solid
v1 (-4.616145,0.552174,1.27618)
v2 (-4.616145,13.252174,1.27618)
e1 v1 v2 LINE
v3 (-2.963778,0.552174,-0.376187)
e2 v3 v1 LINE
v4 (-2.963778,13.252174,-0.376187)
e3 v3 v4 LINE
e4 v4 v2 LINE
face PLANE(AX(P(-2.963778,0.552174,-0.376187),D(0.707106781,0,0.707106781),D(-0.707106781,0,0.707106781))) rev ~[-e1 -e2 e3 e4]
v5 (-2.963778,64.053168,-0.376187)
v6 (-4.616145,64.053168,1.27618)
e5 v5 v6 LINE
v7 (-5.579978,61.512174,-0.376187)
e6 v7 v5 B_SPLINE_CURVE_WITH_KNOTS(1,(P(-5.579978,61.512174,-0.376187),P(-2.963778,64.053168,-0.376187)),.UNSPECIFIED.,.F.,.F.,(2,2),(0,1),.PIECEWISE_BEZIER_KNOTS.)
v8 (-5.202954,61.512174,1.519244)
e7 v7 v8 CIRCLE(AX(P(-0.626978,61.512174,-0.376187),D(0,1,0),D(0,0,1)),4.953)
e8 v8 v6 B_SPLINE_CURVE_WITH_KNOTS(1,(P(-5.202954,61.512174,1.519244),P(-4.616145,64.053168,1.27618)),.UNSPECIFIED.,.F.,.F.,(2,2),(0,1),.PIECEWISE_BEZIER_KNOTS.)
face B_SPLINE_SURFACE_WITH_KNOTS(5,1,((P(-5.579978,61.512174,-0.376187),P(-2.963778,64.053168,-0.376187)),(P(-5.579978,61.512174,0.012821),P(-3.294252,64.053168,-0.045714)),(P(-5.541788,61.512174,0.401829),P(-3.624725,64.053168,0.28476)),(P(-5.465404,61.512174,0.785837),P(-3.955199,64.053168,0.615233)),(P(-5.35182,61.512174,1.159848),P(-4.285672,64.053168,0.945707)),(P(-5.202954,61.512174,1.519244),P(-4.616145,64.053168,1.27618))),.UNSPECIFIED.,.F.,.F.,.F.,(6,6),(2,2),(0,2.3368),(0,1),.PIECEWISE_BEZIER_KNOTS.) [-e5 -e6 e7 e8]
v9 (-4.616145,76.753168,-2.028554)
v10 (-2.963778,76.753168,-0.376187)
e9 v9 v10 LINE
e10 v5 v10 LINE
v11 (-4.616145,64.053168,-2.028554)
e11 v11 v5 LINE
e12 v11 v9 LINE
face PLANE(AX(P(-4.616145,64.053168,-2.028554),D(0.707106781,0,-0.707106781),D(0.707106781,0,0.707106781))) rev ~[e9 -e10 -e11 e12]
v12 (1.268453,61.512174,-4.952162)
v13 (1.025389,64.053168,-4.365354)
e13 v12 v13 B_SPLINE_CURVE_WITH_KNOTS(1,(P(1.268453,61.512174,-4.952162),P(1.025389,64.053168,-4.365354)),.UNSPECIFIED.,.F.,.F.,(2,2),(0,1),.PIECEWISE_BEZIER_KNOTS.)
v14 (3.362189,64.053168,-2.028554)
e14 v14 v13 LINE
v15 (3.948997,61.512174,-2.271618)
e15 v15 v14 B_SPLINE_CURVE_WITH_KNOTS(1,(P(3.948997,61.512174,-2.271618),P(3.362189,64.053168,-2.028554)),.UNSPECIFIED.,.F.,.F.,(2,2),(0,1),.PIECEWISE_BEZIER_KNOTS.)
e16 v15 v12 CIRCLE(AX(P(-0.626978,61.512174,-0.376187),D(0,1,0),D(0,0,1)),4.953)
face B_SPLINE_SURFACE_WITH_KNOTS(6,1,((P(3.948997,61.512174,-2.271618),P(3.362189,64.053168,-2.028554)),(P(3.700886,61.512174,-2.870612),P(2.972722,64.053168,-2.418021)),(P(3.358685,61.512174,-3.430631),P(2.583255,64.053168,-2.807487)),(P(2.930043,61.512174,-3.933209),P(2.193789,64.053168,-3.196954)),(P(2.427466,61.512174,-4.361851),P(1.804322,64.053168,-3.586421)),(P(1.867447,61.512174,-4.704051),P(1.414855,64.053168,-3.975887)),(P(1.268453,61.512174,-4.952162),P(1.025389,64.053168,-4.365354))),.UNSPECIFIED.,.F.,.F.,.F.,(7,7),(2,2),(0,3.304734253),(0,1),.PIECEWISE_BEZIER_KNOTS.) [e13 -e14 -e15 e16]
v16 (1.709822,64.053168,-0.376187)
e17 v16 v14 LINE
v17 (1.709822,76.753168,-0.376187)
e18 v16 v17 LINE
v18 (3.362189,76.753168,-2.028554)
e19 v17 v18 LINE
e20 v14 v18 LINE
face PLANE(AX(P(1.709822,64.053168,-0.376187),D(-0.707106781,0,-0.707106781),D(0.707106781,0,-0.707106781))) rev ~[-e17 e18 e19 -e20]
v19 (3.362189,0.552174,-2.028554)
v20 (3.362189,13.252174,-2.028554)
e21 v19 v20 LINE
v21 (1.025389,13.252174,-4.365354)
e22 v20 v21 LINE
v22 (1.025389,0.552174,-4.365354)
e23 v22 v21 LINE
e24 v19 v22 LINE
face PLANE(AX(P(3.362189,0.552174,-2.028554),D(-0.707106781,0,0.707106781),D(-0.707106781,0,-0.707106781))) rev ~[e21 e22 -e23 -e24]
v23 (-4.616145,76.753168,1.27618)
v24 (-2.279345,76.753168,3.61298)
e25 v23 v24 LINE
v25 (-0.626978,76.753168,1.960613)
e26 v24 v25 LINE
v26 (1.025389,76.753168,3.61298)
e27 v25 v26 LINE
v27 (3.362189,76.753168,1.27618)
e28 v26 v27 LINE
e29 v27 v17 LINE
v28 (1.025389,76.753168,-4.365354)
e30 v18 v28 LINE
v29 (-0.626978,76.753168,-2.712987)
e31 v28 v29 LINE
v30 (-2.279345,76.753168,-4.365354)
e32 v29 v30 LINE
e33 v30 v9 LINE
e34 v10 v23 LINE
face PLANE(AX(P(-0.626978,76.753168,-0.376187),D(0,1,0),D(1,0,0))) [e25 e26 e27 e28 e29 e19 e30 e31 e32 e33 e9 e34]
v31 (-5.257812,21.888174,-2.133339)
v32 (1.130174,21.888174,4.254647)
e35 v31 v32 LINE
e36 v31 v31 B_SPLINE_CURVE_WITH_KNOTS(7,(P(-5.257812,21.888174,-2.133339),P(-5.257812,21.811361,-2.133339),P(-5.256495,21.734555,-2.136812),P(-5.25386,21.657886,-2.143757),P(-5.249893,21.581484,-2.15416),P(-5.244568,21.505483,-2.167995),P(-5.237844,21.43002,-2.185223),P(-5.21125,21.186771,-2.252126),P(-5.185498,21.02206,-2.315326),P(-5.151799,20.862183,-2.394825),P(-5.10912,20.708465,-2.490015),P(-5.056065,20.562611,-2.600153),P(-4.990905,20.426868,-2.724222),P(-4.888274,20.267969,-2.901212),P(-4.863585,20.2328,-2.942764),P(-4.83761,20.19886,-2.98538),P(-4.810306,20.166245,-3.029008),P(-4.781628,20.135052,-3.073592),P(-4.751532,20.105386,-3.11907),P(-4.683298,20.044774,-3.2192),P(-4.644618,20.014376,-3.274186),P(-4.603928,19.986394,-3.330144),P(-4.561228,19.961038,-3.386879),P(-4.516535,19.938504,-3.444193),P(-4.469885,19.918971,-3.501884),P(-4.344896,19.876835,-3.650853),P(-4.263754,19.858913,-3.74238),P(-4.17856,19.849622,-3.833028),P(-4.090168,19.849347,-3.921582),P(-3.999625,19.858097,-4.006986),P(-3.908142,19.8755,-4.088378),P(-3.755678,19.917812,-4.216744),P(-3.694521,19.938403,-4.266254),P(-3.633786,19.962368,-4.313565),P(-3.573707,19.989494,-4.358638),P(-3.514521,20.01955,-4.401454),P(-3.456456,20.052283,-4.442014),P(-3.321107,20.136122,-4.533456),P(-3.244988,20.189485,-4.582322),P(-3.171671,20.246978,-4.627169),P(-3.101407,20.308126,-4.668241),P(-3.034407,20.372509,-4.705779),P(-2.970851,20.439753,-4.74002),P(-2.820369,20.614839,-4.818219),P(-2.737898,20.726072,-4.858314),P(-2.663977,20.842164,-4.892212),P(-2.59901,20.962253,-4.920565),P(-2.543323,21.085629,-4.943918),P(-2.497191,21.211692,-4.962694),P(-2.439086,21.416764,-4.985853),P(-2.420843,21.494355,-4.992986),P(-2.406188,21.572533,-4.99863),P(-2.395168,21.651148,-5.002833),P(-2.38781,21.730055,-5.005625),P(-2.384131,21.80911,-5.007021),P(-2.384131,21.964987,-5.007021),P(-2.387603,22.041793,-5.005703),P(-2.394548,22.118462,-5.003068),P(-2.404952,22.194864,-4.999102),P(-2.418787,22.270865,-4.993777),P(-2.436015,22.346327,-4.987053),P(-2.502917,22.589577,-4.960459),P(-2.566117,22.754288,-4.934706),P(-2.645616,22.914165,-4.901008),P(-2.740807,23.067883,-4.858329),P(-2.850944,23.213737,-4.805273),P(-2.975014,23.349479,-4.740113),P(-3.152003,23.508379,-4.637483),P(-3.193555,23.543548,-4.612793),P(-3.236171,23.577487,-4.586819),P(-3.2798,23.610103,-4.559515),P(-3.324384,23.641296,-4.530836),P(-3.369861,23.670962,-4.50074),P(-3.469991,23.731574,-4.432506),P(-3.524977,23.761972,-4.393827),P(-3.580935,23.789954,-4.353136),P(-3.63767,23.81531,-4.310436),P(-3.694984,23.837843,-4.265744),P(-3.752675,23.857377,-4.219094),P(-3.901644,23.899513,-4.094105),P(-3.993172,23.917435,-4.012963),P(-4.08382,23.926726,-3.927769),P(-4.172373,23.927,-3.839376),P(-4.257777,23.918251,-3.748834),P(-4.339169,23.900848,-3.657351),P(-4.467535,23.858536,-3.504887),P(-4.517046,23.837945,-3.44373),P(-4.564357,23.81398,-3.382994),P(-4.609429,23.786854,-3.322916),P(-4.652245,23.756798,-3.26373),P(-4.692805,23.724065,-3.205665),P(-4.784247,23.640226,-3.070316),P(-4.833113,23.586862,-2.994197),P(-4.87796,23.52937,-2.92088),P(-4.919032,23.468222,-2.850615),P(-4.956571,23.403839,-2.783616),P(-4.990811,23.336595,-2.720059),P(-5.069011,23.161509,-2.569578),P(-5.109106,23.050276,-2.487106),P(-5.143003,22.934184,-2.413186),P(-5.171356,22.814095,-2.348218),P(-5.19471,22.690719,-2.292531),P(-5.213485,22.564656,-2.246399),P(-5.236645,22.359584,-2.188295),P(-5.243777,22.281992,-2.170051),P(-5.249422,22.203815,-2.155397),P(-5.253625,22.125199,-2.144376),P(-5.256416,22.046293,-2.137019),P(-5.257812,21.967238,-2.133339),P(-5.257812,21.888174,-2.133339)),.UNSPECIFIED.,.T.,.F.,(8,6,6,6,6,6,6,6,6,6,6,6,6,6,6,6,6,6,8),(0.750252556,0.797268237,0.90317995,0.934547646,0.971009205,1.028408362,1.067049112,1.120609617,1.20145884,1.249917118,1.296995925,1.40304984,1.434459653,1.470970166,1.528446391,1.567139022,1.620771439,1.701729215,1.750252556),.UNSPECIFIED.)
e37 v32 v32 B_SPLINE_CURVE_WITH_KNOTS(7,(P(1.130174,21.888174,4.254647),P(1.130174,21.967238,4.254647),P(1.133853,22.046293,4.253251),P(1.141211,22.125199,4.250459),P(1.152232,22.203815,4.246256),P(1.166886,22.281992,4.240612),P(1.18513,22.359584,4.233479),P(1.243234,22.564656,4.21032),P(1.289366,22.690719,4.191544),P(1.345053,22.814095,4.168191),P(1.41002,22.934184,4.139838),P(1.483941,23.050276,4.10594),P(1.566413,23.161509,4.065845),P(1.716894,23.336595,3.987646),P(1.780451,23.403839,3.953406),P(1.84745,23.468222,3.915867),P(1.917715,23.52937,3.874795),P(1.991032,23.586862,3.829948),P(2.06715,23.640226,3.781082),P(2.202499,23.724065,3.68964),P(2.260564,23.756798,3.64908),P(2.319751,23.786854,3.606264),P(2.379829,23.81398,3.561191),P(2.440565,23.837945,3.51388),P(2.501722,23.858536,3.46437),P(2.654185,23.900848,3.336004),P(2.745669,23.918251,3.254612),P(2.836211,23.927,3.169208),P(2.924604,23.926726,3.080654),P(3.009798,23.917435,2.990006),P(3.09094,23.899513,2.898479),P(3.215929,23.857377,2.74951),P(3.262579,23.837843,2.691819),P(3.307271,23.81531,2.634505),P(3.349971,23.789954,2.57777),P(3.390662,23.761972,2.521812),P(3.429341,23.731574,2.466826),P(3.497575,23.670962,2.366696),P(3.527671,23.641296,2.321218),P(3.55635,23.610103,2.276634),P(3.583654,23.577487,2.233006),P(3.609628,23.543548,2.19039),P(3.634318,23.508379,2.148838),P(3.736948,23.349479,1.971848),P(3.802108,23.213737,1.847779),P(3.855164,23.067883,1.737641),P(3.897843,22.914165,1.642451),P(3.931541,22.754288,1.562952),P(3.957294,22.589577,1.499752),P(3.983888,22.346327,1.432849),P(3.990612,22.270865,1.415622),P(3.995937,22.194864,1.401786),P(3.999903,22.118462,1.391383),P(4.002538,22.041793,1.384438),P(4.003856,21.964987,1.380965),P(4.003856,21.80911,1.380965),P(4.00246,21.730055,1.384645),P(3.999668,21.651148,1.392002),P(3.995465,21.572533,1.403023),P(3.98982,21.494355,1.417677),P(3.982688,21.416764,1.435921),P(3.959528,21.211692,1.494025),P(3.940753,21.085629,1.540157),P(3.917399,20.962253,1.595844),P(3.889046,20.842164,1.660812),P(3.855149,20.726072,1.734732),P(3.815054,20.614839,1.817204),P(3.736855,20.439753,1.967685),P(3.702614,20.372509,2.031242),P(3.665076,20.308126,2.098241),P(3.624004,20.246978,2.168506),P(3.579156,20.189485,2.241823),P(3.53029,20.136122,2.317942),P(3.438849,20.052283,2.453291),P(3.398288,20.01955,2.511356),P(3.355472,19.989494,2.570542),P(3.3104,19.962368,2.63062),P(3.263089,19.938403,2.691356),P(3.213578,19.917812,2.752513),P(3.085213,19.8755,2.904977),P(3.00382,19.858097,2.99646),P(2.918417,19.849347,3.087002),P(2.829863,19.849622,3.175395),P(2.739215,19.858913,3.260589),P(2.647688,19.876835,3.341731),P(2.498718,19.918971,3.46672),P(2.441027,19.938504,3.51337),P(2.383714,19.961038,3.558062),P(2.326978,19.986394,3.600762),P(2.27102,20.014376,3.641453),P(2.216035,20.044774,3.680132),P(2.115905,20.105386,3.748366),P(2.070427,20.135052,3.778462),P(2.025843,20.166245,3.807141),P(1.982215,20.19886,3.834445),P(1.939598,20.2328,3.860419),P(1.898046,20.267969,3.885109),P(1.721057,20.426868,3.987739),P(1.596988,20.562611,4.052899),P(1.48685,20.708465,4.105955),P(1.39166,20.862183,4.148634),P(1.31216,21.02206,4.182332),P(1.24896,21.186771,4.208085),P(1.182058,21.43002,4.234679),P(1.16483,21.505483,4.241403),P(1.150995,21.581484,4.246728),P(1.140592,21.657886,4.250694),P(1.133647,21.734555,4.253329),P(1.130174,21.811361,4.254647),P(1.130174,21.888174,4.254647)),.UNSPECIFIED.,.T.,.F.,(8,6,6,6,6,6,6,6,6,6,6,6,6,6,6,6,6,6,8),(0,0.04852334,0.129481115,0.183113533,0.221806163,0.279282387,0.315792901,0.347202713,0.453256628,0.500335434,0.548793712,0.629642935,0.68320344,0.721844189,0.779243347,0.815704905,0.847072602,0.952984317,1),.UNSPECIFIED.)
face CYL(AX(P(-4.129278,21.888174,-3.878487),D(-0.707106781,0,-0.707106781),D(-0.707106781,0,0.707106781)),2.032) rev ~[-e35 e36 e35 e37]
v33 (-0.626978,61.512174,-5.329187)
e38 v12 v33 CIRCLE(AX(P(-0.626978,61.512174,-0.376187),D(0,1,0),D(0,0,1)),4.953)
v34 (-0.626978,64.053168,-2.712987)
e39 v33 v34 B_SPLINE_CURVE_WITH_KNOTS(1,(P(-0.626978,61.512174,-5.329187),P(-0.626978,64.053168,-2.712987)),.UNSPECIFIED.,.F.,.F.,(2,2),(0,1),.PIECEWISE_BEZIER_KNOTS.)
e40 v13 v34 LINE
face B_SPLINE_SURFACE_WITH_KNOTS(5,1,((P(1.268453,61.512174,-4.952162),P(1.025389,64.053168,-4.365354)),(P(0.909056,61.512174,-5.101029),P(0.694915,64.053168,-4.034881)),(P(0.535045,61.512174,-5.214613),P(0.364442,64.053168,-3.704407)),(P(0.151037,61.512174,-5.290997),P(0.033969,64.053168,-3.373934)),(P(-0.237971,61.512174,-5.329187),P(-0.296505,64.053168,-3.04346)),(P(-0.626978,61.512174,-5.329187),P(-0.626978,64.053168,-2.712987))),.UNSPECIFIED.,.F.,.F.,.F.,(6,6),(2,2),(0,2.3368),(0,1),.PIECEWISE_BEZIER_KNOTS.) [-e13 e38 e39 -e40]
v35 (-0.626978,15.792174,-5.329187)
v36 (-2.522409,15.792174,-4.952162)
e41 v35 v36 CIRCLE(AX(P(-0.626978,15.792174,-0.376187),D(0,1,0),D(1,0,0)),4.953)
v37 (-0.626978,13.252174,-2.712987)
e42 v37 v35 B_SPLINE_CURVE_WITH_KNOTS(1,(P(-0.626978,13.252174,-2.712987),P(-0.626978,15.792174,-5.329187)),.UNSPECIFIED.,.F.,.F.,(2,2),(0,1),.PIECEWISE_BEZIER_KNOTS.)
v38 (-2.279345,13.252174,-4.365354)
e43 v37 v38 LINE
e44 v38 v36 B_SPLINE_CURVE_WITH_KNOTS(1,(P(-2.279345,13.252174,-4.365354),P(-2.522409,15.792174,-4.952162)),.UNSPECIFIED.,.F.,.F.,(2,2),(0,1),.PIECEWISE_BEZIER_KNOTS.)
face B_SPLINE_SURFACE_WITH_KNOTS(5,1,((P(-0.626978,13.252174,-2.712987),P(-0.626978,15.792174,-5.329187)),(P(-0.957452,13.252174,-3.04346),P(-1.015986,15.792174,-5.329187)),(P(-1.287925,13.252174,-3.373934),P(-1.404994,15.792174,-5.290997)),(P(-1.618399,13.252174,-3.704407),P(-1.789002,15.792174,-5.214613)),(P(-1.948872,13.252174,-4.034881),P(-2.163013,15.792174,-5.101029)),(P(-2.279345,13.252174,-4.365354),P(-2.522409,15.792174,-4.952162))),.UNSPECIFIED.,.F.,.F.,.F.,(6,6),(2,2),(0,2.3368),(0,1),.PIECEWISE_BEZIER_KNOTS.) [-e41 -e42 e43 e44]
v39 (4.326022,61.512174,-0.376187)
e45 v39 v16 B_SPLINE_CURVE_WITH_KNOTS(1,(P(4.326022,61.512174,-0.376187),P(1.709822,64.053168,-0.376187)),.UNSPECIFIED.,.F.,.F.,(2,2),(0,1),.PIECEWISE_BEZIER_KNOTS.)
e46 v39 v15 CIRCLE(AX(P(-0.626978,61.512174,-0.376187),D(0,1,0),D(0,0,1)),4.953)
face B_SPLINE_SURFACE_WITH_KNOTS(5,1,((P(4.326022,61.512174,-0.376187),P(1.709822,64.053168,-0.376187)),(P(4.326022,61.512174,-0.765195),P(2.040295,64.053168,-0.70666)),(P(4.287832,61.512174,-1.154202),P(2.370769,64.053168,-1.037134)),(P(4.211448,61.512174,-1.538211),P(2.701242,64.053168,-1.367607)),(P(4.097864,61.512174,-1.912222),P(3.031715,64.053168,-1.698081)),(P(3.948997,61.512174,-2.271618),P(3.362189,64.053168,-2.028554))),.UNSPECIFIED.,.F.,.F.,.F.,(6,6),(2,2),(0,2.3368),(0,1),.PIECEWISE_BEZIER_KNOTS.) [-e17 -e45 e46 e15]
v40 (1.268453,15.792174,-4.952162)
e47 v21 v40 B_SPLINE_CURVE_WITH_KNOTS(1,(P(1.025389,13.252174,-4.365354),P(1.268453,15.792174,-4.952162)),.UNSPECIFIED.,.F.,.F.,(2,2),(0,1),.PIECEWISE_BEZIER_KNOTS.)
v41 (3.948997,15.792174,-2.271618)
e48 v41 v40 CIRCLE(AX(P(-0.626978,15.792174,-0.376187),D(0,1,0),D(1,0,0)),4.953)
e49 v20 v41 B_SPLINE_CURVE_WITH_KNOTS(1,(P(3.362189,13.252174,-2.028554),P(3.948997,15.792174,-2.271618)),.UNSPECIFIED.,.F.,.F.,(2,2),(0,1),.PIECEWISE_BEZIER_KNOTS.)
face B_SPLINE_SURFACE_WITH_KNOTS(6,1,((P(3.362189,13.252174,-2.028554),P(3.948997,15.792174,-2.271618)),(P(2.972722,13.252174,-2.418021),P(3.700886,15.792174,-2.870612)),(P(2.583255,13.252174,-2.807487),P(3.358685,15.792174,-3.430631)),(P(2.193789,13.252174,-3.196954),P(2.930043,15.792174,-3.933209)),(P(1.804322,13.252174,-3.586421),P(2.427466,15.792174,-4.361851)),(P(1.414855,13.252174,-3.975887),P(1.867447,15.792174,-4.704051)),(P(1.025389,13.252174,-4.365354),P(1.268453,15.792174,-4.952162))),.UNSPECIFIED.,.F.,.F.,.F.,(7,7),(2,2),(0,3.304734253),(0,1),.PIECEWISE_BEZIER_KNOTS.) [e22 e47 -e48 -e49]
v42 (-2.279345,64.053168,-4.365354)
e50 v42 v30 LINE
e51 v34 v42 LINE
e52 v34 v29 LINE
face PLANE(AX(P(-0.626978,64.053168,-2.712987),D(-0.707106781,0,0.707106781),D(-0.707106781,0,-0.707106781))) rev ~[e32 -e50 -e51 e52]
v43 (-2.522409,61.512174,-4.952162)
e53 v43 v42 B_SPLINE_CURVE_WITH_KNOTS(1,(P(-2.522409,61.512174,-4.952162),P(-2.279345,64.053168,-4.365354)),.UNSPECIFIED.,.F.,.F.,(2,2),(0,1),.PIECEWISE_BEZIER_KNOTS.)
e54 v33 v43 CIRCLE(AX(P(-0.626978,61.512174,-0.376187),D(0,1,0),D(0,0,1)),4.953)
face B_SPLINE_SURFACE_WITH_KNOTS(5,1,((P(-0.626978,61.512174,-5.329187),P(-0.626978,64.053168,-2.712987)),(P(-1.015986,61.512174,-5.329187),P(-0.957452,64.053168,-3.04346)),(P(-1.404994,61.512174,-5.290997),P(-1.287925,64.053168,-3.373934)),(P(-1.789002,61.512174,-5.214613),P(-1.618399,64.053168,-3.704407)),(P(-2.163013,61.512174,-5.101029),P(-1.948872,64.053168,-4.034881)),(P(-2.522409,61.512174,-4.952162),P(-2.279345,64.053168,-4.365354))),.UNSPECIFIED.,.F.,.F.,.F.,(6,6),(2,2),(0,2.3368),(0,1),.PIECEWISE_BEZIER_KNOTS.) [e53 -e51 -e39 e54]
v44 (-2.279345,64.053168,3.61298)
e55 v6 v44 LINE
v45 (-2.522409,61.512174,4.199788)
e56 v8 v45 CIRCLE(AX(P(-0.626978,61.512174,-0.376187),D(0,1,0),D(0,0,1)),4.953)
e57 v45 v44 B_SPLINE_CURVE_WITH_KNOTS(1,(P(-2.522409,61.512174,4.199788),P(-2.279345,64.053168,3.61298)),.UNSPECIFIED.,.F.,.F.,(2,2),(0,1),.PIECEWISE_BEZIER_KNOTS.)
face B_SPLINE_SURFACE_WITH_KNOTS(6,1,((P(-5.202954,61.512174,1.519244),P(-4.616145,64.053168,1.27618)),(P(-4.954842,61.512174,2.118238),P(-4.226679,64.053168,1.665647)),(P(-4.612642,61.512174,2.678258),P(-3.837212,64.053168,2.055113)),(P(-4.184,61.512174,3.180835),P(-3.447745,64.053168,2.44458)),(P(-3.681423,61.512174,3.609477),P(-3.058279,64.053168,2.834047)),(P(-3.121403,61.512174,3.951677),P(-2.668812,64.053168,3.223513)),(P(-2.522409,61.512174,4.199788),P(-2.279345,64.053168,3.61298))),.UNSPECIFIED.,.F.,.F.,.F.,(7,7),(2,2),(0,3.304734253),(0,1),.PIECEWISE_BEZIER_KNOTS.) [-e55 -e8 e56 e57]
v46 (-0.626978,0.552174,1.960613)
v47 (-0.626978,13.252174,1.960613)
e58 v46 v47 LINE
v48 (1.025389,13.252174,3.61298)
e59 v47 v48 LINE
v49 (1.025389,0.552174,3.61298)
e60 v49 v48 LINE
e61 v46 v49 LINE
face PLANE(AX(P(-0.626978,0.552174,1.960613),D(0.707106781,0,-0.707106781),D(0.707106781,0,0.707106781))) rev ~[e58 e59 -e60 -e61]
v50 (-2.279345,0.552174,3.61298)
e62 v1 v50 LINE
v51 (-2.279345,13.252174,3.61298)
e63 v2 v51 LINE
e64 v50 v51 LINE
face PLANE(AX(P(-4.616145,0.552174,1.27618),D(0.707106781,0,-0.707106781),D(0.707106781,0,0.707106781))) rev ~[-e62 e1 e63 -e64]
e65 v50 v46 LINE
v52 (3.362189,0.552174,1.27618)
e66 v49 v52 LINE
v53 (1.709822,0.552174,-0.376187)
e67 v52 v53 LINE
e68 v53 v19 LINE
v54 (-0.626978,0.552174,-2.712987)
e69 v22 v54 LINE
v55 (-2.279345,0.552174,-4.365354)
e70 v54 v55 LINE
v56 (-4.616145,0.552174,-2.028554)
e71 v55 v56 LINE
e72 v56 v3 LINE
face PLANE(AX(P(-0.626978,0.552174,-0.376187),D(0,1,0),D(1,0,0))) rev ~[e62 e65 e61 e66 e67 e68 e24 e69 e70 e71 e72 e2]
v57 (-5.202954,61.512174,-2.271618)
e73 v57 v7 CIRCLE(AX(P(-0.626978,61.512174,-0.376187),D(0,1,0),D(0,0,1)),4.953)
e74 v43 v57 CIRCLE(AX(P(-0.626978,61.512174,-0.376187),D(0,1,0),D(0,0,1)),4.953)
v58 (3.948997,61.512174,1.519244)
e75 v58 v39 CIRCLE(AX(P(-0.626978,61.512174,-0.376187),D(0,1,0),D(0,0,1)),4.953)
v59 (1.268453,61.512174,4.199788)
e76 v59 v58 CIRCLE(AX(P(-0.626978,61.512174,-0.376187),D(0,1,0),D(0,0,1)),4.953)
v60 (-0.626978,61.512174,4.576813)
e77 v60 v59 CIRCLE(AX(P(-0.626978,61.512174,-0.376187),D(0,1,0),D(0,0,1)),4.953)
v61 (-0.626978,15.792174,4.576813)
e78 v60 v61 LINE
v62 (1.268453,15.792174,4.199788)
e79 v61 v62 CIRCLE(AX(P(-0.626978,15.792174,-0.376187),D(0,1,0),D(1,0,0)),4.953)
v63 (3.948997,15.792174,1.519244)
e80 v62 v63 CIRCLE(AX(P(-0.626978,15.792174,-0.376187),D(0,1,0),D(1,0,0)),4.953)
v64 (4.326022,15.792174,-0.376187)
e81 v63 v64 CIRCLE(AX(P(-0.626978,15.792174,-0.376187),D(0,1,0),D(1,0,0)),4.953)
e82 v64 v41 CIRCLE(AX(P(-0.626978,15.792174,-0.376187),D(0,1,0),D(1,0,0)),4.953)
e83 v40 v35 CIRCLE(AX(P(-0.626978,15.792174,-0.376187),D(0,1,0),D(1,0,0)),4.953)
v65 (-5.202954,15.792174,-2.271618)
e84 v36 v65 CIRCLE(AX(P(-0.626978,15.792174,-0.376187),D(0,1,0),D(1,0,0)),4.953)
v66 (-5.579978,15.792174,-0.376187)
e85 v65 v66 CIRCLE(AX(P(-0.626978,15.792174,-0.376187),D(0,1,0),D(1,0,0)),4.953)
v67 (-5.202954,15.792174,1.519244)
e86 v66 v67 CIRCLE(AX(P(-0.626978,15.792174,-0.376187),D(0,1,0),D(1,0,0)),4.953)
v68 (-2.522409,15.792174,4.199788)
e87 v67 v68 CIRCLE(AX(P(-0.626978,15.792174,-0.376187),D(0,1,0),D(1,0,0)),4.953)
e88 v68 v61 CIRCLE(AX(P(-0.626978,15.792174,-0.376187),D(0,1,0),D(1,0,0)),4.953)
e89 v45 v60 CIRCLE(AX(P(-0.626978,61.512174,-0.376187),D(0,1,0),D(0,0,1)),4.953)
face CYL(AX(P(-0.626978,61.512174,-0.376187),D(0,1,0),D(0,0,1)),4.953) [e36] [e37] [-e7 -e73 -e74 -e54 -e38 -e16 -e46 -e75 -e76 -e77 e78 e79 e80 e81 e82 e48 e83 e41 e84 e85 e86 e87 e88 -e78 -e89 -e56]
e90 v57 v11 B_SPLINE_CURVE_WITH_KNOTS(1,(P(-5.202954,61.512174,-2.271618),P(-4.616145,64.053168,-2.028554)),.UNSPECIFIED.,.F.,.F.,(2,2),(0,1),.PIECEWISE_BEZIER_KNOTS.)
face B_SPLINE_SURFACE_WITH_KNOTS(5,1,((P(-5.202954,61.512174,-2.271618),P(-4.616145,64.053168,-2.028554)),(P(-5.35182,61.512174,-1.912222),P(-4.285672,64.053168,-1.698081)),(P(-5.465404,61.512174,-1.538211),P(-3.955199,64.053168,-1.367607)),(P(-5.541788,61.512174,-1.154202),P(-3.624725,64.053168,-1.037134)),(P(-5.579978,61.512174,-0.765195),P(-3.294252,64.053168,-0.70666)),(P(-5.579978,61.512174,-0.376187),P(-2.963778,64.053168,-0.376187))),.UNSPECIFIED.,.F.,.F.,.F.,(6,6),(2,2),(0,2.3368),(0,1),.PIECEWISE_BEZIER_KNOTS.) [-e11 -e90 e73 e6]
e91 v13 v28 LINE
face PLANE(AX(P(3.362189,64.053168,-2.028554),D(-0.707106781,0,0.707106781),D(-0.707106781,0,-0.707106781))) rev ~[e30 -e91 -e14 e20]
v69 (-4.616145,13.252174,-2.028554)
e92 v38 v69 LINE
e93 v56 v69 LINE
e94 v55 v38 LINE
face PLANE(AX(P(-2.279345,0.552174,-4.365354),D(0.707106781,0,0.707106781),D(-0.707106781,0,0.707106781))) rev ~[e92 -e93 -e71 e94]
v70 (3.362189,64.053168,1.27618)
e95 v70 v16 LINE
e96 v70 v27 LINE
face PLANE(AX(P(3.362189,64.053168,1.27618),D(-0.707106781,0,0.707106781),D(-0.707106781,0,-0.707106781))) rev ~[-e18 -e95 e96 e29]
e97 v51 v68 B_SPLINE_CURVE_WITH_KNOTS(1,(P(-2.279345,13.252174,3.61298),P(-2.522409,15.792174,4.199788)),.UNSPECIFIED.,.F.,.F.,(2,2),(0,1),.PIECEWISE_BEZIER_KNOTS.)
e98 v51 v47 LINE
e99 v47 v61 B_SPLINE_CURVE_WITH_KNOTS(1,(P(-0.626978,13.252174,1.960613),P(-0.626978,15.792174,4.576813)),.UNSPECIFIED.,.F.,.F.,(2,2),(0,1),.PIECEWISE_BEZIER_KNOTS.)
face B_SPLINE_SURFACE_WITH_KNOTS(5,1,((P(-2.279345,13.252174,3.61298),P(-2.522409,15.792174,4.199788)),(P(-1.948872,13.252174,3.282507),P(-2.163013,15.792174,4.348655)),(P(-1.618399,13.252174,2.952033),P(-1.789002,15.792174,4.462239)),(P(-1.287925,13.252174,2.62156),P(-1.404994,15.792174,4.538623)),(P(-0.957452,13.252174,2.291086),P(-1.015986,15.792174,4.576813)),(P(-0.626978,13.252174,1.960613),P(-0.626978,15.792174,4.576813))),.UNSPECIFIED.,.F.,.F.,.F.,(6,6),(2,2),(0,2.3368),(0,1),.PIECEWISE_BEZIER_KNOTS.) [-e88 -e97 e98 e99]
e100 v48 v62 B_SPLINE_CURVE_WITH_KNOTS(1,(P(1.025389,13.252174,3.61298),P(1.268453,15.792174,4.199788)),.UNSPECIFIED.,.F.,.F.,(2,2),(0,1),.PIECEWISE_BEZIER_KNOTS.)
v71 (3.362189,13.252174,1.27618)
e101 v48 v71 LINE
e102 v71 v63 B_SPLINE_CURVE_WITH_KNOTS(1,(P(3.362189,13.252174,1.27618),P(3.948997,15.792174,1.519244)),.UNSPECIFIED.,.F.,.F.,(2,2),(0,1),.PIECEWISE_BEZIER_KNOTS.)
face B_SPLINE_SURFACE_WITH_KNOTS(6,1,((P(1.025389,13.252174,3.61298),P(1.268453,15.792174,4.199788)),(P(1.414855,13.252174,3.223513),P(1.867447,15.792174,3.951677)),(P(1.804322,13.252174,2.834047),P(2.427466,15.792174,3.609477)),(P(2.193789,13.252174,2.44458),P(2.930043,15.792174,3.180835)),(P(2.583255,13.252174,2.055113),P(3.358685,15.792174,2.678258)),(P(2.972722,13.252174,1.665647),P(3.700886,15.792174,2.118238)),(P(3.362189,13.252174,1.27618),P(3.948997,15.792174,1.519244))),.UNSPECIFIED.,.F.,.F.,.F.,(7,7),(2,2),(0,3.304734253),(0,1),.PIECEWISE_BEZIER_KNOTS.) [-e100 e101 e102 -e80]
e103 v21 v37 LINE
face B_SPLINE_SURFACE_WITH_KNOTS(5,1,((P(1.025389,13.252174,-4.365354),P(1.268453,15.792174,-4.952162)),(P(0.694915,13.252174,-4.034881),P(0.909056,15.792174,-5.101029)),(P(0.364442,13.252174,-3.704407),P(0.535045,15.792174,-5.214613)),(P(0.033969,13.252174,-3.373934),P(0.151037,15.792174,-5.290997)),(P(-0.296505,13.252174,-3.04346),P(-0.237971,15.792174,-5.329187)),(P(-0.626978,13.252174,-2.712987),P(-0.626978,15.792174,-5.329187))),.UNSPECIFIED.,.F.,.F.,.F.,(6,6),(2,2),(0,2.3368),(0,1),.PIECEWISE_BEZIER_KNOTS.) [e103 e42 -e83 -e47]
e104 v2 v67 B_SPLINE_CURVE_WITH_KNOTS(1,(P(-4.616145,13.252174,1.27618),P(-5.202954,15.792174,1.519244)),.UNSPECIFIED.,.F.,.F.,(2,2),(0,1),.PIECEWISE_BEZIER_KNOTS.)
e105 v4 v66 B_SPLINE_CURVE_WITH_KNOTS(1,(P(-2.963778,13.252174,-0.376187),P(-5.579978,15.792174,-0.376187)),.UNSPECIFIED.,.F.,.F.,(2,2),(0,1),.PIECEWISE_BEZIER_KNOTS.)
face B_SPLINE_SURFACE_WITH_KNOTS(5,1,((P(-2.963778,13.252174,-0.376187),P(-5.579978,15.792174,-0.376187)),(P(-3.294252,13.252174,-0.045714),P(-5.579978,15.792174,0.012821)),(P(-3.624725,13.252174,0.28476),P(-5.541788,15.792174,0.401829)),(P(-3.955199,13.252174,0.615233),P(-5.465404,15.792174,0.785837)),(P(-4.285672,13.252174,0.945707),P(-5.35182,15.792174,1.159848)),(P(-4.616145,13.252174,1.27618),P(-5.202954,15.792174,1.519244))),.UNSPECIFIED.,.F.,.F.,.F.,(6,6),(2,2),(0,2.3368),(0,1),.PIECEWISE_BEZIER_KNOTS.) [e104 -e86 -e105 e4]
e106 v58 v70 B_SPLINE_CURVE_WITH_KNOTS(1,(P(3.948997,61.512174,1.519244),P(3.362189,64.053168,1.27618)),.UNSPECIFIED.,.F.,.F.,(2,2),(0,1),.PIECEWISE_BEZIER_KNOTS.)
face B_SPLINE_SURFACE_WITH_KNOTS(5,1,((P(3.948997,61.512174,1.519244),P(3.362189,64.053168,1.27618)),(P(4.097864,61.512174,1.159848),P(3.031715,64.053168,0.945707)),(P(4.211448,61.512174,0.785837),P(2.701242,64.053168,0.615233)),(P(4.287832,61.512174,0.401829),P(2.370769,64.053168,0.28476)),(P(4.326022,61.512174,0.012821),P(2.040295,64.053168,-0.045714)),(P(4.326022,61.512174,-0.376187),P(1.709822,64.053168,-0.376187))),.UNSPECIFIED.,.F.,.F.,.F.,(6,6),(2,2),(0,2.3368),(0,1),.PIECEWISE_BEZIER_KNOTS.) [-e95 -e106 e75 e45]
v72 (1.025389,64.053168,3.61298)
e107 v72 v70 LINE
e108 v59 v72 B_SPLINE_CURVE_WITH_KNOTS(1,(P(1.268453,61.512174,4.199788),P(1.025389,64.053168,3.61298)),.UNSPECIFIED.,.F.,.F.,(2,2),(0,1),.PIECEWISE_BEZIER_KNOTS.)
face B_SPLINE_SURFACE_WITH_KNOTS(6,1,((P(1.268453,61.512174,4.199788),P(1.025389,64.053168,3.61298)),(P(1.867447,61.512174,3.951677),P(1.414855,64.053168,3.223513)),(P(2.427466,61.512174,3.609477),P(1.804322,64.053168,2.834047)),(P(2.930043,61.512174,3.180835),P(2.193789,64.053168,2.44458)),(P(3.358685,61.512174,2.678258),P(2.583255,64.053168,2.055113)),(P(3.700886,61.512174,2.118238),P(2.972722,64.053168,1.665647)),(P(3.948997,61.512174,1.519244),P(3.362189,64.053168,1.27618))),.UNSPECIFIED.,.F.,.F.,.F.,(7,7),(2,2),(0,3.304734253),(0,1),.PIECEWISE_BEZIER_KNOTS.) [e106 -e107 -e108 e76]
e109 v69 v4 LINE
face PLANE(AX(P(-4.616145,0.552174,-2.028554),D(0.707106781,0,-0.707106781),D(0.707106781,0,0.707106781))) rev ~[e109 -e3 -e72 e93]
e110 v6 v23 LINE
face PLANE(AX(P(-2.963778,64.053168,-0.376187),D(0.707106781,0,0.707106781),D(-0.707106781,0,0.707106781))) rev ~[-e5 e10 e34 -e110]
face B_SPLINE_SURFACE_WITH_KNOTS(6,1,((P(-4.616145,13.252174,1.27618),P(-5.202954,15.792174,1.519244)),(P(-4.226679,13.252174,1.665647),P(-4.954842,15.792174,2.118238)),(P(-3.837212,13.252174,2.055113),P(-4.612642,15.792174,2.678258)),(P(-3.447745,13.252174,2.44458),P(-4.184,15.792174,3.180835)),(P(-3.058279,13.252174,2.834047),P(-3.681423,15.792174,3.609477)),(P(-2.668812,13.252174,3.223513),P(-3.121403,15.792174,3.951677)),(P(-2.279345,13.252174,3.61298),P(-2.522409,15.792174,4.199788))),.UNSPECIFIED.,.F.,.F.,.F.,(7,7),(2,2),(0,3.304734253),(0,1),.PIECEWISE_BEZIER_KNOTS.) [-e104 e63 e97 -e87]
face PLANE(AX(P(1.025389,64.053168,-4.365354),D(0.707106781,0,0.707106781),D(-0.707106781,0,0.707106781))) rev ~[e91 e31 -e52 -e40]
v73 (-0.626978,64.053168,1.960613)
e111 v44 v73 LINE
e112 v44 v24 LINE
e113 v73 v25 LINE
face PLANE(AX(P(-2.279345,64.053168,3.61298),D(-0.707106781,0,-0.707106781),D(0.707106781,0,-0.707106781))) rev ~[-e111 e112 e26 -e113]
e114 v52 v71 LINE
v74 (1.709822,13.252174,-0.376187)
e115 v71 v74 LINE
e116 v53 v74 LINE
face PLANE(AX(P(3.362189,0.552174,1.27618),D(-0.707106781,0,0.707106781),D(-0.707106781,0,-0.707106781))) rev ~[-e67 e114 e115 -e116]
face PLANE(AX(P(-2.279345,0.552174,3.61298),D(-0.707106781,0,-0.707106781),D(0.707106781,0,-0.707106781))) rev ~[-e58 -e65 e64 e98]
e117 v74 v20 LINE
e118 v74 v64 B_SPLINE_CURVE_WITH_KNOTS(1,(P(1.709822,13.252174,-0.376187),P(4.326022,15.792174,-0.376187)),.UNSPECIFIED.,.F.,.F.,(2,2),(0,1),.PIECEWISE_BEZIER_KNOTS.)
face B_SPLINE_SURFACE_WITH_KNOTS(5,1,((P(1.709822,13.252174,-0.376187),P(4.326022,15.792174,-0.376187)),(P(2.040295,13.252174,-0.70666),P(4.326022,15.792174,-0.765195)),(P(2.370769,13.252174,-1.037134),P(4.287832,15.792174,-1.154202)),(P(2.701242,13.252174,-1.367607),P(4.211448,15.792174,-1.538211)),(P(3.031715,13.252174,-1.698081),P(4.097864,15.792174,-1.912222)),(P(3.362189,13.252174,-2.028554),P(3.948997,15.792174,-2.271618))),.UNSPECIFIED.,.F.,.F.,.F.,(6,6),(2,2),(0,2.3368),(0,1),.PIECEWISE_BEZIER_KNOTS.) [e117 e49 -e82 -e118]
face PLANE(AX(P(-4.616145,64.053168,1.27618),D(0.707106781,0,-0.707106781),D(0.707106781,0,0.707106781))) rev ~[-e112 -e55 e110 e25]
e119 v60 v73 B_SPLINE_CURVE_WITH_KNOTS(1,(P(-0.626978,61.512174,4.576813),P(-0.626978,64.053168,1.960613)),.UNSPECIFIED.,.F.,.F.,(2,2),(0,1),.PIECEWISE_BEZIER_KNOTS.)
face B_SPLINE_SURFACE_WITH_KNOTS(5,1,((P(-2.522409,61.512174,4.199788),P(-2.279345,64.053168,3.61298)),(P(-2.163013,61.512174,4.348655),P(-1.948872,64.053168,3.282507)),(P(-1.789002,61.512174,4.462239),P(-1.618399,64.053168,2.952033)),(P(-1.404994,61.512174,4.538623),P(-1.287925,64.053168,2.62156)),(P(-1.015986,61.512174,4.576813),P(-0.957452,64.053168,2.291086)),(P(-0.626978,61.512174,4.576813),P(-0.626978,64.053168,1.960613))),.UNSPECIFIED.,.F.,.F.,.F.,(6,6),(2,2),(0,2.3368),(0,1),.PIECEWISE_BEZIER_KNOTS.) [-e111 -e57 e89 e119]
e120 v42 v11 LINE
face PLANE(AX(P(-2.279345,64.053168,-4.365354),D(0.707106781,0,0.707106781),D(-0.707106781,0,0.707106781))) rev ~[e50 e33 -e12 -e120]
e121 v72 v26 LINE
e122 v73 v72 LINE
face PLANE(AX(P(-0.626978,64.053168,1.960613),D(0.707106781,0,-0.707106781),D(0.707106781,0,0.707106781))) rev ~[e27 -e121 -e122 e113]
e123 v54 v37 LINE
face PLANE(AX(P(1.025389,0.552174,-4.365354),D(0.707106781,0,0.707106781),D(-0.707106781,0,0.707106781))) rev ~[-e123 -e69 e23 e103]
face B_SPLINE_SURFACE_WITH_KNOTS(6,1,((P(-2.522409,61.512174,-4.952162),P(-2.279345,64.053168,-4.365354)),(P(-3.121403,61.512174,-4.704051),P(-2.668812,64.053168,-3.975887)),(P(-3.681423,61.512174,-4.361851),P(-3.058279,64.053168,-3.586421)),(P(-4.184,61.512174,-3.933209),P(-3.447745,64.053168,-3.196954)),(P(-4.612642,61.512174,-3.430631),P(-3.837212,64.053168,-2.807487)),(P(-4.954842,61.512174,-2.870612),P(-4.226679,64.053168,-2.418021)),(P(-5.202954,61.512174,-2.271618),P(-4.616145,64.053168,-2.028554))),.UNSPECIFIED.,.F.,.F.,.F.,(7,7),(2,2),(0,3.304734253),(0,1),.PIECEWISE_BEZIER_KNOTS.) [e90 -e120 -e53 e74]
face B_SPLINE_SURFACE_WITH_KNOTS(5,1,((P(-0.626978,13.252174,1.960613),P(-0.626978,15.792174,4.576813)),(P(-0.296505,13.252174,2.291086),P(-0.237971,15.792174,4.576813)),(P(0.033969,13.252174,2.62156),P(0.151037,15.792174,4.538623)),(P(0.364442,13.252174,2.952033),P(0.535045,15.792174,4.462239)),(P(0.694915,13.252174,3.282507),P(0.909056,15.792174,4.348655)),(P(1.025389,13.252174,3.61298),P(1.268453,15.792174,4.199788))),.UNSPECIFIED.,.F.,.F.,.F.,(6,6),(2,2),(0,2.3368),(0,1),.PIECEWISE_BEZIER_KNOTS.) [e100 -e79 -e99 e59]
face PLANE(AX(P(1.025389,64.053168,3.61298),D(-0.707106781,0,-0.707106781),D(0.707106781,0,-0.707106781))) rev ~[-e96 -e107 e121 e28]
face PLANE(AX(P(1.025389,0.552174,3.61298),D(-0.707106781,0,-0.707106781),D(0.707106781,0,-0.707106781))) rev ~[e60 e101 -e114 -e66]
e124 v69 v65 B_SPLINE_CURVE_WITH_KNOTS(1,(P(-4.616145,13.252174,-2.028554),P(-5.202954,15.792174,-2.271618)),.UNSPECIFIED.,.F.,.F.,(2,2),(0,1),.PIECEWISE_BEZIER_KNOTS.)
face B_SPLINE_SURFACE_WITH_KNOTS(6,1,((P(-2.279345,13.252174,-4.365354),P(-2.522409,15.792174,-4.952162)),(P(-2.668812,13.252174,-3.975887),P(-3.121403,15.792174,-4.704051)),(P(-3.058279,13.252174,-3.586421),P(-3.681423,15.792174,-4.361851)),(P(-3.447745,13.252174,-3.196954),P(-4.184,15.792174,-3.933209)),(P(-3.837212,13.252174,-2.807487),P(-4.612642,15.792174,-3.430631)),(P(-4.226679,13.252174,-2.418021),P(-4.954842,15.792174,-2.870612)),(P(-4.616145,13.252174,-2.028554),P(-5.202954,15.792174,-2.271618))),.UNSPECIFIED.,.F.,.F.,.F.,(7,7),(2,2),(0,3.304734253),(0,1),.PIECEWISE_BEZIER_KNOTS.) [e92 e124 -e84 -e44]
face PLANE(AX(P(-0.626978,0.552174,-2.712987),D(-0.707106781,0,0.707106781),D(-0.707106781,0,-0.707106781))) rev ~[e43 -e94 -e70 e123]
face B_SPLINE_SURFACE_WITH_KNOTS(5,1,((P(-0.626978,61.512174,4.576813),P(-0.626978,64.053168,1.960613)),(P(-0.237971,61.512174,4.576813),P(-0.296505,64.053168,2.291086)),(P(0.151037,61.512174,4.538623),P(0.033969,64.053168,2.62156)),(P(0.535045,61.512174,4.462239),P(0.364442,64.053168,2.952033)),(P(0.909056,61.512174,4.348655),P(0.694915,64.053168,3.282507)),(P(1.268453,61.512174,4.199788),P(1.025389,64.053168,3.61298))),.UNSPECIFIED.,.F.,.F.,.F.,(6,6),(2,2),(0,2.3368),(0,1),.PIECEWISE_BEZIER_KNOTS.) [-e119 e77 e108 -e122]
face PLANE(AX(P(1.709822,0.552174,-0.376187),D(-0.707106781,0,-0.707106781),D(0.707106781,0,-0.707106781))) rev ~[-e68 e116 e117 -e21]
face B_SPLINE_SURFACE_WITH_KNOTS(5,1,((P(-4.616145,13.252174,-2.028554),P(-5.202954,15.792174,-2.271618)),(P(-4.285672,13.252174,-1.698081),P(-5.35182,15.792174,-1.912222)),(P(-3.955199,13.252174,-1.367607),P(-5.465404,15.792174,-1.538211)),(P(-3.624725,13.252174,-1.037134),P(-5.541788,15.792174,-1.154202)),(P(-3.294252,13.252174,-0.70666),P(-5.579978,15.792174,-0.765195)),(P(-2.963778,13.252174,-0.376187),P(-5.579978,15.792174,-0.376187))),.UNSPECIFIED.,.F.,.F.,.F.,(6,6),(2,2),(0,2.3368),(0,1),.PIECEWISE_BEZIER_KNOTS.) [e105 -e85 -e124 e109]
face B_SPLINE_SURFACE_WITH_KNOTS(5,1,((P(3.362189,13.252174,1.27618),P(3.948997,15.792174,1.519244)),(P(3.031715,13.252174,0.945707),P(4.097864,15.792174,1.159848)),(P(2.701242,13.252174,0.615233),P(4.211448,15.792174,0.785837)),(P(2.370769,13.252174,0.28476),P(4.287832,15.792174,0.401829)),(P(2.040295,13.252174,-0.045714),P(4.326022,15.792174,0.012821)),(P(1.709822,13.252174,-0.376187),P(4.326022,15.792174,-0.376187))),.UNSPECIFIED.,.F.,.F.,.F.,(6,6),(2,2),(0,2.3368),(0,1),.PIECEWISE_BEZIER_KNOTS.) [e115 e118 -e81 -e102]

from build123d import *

# Parameters (mm, degrees)
BOSS_EXTRUDE1_DEPTH = 13.804347826
SCALE1_SCALE        = 0.92
SKETCH2_R           = 4.953
SKETCH3_R           = 4.953
BOSS_EXTRUDE2_DEPTH = 22.86
BOSS_EXTRUDE4_DEPTH = 13.804347826
SCALE2_SCALE        = 0.92
SKETCH6_R           = 2.032
CUT_EXTRUDE1_DEPTH  = 78.679240568


with BuildPart() as part:
    # Sketch1 → Boss-Extrude1 (new body)
    with BuildSketch(Plane(origin=(0, 0, 0), x_dir=(1, 0, 0), z_dir=(0, 1, 0))):
        Polygon((-0.6269783, 2.91618698), (-2.423029524, 4.712238204), (-4.963029524, 2.172238204), (-3.1669783, 0.37618698), (-4.963029524, -1.419864244), (-2.423029524, -3.959864244), (-0.6269783, -2.16381302), (1.169072924, -3.959864244), (3.709072924, -1.419864244), (1.9130217, 0.37618698), (3.709072924, 2.172238204), (1.169072924, 4.712238204), align=None)
    extrude(amount=BOSS_EXTRUDE1_DEPTH)


with BuildPart() as part_1:
    # Scale1: scaled about (-0.6269783, 6.902173913, -0.37618698)
    add(part.part.scale(SCALE1_SCALE).moved(Location((-0.050158264, 0.552173913, -0.030094958))))

    # Sketch2 → section 1 of loft1
    with BuildSketch(Plane(origin=(0, 15.792173913, 0), x_dir=(1, 0, 0), z_dir=(0, 1, 0)), mode=Mode.PRIVATE) as loft1_s1:
        with Locations((-0.6269783, 0.37618698)):
            Circle(SKETCH2_R)
    # loft from a face of the part (loft1)
    loft([part_1.faces().sort_by_distance((-0.6269783, 13.252173913, -0.37618698))[0], loft1_s1.sketch])

    # Sketch3 → Boss-Extrude2 (add)
    with BuildSketch(Plane(origin=(0, 15.792173913, 0), x_dir=(1, 0, 0), z_dir=(0, 1, 0))):
        with Locations(Location((-0.6269783, 0.37618698, 0), (0, 0, 270))):
            Circle(SKETCH3_R)
    boss_extrude2 = extrude(amount=BOSS_EXTRUDE2_DEPTH)

    # Mirror6: Boss-Extrude2 across plane
    add(boss_extrude2.mirror(Plane(origin=(-0.6269783, 38.652173913, -0.37618698), x_dir=(0, 0, 1), z_dir=(0, 1, 0))))



with BuildPart() as body_2:
    # Sketch5 → Boss-Extrude4 (new body)
    with BuildSketch(Plane(origin=(0, 63.500993913, 0), x_dir=(1, 0, 0), z_dir=(0, 1, 0))):
        Polygon((-0.6269783, 2.91618698), (-2.423029524, 4.712238204), (-4.963029524, 2.172238204), (-3.1669783, 0.37618698), (-4.963029524, -1.419864244), (-2.423029524, -3.959864244), (-0.6269783, -2.16381302), (1.169072924, -3.959864244), (3.709072924, -1.419864244), (1.9130217, 0.37618698), (3.709072924, 2.172238204), (1.169072924, 4.712238204), align=None)
    extrude(amount=BOSS_EXTRUDE4_DEPTH)


with BuildPart() as body_2_1:
    # Scale2: scaled about (-0.6269783, 70.403167826, -0.37618698)
    add(body_2.part.scale(SCALE2_SCALE).moved(Location((-0.050158264, 5.632253426, -0.030094958))))


with BuildPart() as part_2:
    add(part_1.part)

    add(body_2_1.part)  # loft2 joins it to this body
    # loft from a face of the part (loft2)
    loft([part_2.faces().sort_by_distance((-0.6269783, 61.512173913, -0.37618698))[0], part_2.faces().sort_by_distance((-0.6269783, 64.053167826, -0.37618698))[0]])

    # Sketch6 → Cut-Extrude1 (cut, through all)
    with BuildSketch(Plane(origin=(-4.003882527, 0, -4.003882527), x_dir=(-0.7071067811865471, 0, 0.7071067811865479), z_dir=(-0.7071067811865479, 0, -0.7071067811865471))):
        with Locations((0.177336243, 21.888173913)):
            Circle(SKETCH6_R)
    extrude(amount=-CUT_EXTRUDE1_DEPTH, mode=Mode.SUBTRACT)


solid = part_2.part
